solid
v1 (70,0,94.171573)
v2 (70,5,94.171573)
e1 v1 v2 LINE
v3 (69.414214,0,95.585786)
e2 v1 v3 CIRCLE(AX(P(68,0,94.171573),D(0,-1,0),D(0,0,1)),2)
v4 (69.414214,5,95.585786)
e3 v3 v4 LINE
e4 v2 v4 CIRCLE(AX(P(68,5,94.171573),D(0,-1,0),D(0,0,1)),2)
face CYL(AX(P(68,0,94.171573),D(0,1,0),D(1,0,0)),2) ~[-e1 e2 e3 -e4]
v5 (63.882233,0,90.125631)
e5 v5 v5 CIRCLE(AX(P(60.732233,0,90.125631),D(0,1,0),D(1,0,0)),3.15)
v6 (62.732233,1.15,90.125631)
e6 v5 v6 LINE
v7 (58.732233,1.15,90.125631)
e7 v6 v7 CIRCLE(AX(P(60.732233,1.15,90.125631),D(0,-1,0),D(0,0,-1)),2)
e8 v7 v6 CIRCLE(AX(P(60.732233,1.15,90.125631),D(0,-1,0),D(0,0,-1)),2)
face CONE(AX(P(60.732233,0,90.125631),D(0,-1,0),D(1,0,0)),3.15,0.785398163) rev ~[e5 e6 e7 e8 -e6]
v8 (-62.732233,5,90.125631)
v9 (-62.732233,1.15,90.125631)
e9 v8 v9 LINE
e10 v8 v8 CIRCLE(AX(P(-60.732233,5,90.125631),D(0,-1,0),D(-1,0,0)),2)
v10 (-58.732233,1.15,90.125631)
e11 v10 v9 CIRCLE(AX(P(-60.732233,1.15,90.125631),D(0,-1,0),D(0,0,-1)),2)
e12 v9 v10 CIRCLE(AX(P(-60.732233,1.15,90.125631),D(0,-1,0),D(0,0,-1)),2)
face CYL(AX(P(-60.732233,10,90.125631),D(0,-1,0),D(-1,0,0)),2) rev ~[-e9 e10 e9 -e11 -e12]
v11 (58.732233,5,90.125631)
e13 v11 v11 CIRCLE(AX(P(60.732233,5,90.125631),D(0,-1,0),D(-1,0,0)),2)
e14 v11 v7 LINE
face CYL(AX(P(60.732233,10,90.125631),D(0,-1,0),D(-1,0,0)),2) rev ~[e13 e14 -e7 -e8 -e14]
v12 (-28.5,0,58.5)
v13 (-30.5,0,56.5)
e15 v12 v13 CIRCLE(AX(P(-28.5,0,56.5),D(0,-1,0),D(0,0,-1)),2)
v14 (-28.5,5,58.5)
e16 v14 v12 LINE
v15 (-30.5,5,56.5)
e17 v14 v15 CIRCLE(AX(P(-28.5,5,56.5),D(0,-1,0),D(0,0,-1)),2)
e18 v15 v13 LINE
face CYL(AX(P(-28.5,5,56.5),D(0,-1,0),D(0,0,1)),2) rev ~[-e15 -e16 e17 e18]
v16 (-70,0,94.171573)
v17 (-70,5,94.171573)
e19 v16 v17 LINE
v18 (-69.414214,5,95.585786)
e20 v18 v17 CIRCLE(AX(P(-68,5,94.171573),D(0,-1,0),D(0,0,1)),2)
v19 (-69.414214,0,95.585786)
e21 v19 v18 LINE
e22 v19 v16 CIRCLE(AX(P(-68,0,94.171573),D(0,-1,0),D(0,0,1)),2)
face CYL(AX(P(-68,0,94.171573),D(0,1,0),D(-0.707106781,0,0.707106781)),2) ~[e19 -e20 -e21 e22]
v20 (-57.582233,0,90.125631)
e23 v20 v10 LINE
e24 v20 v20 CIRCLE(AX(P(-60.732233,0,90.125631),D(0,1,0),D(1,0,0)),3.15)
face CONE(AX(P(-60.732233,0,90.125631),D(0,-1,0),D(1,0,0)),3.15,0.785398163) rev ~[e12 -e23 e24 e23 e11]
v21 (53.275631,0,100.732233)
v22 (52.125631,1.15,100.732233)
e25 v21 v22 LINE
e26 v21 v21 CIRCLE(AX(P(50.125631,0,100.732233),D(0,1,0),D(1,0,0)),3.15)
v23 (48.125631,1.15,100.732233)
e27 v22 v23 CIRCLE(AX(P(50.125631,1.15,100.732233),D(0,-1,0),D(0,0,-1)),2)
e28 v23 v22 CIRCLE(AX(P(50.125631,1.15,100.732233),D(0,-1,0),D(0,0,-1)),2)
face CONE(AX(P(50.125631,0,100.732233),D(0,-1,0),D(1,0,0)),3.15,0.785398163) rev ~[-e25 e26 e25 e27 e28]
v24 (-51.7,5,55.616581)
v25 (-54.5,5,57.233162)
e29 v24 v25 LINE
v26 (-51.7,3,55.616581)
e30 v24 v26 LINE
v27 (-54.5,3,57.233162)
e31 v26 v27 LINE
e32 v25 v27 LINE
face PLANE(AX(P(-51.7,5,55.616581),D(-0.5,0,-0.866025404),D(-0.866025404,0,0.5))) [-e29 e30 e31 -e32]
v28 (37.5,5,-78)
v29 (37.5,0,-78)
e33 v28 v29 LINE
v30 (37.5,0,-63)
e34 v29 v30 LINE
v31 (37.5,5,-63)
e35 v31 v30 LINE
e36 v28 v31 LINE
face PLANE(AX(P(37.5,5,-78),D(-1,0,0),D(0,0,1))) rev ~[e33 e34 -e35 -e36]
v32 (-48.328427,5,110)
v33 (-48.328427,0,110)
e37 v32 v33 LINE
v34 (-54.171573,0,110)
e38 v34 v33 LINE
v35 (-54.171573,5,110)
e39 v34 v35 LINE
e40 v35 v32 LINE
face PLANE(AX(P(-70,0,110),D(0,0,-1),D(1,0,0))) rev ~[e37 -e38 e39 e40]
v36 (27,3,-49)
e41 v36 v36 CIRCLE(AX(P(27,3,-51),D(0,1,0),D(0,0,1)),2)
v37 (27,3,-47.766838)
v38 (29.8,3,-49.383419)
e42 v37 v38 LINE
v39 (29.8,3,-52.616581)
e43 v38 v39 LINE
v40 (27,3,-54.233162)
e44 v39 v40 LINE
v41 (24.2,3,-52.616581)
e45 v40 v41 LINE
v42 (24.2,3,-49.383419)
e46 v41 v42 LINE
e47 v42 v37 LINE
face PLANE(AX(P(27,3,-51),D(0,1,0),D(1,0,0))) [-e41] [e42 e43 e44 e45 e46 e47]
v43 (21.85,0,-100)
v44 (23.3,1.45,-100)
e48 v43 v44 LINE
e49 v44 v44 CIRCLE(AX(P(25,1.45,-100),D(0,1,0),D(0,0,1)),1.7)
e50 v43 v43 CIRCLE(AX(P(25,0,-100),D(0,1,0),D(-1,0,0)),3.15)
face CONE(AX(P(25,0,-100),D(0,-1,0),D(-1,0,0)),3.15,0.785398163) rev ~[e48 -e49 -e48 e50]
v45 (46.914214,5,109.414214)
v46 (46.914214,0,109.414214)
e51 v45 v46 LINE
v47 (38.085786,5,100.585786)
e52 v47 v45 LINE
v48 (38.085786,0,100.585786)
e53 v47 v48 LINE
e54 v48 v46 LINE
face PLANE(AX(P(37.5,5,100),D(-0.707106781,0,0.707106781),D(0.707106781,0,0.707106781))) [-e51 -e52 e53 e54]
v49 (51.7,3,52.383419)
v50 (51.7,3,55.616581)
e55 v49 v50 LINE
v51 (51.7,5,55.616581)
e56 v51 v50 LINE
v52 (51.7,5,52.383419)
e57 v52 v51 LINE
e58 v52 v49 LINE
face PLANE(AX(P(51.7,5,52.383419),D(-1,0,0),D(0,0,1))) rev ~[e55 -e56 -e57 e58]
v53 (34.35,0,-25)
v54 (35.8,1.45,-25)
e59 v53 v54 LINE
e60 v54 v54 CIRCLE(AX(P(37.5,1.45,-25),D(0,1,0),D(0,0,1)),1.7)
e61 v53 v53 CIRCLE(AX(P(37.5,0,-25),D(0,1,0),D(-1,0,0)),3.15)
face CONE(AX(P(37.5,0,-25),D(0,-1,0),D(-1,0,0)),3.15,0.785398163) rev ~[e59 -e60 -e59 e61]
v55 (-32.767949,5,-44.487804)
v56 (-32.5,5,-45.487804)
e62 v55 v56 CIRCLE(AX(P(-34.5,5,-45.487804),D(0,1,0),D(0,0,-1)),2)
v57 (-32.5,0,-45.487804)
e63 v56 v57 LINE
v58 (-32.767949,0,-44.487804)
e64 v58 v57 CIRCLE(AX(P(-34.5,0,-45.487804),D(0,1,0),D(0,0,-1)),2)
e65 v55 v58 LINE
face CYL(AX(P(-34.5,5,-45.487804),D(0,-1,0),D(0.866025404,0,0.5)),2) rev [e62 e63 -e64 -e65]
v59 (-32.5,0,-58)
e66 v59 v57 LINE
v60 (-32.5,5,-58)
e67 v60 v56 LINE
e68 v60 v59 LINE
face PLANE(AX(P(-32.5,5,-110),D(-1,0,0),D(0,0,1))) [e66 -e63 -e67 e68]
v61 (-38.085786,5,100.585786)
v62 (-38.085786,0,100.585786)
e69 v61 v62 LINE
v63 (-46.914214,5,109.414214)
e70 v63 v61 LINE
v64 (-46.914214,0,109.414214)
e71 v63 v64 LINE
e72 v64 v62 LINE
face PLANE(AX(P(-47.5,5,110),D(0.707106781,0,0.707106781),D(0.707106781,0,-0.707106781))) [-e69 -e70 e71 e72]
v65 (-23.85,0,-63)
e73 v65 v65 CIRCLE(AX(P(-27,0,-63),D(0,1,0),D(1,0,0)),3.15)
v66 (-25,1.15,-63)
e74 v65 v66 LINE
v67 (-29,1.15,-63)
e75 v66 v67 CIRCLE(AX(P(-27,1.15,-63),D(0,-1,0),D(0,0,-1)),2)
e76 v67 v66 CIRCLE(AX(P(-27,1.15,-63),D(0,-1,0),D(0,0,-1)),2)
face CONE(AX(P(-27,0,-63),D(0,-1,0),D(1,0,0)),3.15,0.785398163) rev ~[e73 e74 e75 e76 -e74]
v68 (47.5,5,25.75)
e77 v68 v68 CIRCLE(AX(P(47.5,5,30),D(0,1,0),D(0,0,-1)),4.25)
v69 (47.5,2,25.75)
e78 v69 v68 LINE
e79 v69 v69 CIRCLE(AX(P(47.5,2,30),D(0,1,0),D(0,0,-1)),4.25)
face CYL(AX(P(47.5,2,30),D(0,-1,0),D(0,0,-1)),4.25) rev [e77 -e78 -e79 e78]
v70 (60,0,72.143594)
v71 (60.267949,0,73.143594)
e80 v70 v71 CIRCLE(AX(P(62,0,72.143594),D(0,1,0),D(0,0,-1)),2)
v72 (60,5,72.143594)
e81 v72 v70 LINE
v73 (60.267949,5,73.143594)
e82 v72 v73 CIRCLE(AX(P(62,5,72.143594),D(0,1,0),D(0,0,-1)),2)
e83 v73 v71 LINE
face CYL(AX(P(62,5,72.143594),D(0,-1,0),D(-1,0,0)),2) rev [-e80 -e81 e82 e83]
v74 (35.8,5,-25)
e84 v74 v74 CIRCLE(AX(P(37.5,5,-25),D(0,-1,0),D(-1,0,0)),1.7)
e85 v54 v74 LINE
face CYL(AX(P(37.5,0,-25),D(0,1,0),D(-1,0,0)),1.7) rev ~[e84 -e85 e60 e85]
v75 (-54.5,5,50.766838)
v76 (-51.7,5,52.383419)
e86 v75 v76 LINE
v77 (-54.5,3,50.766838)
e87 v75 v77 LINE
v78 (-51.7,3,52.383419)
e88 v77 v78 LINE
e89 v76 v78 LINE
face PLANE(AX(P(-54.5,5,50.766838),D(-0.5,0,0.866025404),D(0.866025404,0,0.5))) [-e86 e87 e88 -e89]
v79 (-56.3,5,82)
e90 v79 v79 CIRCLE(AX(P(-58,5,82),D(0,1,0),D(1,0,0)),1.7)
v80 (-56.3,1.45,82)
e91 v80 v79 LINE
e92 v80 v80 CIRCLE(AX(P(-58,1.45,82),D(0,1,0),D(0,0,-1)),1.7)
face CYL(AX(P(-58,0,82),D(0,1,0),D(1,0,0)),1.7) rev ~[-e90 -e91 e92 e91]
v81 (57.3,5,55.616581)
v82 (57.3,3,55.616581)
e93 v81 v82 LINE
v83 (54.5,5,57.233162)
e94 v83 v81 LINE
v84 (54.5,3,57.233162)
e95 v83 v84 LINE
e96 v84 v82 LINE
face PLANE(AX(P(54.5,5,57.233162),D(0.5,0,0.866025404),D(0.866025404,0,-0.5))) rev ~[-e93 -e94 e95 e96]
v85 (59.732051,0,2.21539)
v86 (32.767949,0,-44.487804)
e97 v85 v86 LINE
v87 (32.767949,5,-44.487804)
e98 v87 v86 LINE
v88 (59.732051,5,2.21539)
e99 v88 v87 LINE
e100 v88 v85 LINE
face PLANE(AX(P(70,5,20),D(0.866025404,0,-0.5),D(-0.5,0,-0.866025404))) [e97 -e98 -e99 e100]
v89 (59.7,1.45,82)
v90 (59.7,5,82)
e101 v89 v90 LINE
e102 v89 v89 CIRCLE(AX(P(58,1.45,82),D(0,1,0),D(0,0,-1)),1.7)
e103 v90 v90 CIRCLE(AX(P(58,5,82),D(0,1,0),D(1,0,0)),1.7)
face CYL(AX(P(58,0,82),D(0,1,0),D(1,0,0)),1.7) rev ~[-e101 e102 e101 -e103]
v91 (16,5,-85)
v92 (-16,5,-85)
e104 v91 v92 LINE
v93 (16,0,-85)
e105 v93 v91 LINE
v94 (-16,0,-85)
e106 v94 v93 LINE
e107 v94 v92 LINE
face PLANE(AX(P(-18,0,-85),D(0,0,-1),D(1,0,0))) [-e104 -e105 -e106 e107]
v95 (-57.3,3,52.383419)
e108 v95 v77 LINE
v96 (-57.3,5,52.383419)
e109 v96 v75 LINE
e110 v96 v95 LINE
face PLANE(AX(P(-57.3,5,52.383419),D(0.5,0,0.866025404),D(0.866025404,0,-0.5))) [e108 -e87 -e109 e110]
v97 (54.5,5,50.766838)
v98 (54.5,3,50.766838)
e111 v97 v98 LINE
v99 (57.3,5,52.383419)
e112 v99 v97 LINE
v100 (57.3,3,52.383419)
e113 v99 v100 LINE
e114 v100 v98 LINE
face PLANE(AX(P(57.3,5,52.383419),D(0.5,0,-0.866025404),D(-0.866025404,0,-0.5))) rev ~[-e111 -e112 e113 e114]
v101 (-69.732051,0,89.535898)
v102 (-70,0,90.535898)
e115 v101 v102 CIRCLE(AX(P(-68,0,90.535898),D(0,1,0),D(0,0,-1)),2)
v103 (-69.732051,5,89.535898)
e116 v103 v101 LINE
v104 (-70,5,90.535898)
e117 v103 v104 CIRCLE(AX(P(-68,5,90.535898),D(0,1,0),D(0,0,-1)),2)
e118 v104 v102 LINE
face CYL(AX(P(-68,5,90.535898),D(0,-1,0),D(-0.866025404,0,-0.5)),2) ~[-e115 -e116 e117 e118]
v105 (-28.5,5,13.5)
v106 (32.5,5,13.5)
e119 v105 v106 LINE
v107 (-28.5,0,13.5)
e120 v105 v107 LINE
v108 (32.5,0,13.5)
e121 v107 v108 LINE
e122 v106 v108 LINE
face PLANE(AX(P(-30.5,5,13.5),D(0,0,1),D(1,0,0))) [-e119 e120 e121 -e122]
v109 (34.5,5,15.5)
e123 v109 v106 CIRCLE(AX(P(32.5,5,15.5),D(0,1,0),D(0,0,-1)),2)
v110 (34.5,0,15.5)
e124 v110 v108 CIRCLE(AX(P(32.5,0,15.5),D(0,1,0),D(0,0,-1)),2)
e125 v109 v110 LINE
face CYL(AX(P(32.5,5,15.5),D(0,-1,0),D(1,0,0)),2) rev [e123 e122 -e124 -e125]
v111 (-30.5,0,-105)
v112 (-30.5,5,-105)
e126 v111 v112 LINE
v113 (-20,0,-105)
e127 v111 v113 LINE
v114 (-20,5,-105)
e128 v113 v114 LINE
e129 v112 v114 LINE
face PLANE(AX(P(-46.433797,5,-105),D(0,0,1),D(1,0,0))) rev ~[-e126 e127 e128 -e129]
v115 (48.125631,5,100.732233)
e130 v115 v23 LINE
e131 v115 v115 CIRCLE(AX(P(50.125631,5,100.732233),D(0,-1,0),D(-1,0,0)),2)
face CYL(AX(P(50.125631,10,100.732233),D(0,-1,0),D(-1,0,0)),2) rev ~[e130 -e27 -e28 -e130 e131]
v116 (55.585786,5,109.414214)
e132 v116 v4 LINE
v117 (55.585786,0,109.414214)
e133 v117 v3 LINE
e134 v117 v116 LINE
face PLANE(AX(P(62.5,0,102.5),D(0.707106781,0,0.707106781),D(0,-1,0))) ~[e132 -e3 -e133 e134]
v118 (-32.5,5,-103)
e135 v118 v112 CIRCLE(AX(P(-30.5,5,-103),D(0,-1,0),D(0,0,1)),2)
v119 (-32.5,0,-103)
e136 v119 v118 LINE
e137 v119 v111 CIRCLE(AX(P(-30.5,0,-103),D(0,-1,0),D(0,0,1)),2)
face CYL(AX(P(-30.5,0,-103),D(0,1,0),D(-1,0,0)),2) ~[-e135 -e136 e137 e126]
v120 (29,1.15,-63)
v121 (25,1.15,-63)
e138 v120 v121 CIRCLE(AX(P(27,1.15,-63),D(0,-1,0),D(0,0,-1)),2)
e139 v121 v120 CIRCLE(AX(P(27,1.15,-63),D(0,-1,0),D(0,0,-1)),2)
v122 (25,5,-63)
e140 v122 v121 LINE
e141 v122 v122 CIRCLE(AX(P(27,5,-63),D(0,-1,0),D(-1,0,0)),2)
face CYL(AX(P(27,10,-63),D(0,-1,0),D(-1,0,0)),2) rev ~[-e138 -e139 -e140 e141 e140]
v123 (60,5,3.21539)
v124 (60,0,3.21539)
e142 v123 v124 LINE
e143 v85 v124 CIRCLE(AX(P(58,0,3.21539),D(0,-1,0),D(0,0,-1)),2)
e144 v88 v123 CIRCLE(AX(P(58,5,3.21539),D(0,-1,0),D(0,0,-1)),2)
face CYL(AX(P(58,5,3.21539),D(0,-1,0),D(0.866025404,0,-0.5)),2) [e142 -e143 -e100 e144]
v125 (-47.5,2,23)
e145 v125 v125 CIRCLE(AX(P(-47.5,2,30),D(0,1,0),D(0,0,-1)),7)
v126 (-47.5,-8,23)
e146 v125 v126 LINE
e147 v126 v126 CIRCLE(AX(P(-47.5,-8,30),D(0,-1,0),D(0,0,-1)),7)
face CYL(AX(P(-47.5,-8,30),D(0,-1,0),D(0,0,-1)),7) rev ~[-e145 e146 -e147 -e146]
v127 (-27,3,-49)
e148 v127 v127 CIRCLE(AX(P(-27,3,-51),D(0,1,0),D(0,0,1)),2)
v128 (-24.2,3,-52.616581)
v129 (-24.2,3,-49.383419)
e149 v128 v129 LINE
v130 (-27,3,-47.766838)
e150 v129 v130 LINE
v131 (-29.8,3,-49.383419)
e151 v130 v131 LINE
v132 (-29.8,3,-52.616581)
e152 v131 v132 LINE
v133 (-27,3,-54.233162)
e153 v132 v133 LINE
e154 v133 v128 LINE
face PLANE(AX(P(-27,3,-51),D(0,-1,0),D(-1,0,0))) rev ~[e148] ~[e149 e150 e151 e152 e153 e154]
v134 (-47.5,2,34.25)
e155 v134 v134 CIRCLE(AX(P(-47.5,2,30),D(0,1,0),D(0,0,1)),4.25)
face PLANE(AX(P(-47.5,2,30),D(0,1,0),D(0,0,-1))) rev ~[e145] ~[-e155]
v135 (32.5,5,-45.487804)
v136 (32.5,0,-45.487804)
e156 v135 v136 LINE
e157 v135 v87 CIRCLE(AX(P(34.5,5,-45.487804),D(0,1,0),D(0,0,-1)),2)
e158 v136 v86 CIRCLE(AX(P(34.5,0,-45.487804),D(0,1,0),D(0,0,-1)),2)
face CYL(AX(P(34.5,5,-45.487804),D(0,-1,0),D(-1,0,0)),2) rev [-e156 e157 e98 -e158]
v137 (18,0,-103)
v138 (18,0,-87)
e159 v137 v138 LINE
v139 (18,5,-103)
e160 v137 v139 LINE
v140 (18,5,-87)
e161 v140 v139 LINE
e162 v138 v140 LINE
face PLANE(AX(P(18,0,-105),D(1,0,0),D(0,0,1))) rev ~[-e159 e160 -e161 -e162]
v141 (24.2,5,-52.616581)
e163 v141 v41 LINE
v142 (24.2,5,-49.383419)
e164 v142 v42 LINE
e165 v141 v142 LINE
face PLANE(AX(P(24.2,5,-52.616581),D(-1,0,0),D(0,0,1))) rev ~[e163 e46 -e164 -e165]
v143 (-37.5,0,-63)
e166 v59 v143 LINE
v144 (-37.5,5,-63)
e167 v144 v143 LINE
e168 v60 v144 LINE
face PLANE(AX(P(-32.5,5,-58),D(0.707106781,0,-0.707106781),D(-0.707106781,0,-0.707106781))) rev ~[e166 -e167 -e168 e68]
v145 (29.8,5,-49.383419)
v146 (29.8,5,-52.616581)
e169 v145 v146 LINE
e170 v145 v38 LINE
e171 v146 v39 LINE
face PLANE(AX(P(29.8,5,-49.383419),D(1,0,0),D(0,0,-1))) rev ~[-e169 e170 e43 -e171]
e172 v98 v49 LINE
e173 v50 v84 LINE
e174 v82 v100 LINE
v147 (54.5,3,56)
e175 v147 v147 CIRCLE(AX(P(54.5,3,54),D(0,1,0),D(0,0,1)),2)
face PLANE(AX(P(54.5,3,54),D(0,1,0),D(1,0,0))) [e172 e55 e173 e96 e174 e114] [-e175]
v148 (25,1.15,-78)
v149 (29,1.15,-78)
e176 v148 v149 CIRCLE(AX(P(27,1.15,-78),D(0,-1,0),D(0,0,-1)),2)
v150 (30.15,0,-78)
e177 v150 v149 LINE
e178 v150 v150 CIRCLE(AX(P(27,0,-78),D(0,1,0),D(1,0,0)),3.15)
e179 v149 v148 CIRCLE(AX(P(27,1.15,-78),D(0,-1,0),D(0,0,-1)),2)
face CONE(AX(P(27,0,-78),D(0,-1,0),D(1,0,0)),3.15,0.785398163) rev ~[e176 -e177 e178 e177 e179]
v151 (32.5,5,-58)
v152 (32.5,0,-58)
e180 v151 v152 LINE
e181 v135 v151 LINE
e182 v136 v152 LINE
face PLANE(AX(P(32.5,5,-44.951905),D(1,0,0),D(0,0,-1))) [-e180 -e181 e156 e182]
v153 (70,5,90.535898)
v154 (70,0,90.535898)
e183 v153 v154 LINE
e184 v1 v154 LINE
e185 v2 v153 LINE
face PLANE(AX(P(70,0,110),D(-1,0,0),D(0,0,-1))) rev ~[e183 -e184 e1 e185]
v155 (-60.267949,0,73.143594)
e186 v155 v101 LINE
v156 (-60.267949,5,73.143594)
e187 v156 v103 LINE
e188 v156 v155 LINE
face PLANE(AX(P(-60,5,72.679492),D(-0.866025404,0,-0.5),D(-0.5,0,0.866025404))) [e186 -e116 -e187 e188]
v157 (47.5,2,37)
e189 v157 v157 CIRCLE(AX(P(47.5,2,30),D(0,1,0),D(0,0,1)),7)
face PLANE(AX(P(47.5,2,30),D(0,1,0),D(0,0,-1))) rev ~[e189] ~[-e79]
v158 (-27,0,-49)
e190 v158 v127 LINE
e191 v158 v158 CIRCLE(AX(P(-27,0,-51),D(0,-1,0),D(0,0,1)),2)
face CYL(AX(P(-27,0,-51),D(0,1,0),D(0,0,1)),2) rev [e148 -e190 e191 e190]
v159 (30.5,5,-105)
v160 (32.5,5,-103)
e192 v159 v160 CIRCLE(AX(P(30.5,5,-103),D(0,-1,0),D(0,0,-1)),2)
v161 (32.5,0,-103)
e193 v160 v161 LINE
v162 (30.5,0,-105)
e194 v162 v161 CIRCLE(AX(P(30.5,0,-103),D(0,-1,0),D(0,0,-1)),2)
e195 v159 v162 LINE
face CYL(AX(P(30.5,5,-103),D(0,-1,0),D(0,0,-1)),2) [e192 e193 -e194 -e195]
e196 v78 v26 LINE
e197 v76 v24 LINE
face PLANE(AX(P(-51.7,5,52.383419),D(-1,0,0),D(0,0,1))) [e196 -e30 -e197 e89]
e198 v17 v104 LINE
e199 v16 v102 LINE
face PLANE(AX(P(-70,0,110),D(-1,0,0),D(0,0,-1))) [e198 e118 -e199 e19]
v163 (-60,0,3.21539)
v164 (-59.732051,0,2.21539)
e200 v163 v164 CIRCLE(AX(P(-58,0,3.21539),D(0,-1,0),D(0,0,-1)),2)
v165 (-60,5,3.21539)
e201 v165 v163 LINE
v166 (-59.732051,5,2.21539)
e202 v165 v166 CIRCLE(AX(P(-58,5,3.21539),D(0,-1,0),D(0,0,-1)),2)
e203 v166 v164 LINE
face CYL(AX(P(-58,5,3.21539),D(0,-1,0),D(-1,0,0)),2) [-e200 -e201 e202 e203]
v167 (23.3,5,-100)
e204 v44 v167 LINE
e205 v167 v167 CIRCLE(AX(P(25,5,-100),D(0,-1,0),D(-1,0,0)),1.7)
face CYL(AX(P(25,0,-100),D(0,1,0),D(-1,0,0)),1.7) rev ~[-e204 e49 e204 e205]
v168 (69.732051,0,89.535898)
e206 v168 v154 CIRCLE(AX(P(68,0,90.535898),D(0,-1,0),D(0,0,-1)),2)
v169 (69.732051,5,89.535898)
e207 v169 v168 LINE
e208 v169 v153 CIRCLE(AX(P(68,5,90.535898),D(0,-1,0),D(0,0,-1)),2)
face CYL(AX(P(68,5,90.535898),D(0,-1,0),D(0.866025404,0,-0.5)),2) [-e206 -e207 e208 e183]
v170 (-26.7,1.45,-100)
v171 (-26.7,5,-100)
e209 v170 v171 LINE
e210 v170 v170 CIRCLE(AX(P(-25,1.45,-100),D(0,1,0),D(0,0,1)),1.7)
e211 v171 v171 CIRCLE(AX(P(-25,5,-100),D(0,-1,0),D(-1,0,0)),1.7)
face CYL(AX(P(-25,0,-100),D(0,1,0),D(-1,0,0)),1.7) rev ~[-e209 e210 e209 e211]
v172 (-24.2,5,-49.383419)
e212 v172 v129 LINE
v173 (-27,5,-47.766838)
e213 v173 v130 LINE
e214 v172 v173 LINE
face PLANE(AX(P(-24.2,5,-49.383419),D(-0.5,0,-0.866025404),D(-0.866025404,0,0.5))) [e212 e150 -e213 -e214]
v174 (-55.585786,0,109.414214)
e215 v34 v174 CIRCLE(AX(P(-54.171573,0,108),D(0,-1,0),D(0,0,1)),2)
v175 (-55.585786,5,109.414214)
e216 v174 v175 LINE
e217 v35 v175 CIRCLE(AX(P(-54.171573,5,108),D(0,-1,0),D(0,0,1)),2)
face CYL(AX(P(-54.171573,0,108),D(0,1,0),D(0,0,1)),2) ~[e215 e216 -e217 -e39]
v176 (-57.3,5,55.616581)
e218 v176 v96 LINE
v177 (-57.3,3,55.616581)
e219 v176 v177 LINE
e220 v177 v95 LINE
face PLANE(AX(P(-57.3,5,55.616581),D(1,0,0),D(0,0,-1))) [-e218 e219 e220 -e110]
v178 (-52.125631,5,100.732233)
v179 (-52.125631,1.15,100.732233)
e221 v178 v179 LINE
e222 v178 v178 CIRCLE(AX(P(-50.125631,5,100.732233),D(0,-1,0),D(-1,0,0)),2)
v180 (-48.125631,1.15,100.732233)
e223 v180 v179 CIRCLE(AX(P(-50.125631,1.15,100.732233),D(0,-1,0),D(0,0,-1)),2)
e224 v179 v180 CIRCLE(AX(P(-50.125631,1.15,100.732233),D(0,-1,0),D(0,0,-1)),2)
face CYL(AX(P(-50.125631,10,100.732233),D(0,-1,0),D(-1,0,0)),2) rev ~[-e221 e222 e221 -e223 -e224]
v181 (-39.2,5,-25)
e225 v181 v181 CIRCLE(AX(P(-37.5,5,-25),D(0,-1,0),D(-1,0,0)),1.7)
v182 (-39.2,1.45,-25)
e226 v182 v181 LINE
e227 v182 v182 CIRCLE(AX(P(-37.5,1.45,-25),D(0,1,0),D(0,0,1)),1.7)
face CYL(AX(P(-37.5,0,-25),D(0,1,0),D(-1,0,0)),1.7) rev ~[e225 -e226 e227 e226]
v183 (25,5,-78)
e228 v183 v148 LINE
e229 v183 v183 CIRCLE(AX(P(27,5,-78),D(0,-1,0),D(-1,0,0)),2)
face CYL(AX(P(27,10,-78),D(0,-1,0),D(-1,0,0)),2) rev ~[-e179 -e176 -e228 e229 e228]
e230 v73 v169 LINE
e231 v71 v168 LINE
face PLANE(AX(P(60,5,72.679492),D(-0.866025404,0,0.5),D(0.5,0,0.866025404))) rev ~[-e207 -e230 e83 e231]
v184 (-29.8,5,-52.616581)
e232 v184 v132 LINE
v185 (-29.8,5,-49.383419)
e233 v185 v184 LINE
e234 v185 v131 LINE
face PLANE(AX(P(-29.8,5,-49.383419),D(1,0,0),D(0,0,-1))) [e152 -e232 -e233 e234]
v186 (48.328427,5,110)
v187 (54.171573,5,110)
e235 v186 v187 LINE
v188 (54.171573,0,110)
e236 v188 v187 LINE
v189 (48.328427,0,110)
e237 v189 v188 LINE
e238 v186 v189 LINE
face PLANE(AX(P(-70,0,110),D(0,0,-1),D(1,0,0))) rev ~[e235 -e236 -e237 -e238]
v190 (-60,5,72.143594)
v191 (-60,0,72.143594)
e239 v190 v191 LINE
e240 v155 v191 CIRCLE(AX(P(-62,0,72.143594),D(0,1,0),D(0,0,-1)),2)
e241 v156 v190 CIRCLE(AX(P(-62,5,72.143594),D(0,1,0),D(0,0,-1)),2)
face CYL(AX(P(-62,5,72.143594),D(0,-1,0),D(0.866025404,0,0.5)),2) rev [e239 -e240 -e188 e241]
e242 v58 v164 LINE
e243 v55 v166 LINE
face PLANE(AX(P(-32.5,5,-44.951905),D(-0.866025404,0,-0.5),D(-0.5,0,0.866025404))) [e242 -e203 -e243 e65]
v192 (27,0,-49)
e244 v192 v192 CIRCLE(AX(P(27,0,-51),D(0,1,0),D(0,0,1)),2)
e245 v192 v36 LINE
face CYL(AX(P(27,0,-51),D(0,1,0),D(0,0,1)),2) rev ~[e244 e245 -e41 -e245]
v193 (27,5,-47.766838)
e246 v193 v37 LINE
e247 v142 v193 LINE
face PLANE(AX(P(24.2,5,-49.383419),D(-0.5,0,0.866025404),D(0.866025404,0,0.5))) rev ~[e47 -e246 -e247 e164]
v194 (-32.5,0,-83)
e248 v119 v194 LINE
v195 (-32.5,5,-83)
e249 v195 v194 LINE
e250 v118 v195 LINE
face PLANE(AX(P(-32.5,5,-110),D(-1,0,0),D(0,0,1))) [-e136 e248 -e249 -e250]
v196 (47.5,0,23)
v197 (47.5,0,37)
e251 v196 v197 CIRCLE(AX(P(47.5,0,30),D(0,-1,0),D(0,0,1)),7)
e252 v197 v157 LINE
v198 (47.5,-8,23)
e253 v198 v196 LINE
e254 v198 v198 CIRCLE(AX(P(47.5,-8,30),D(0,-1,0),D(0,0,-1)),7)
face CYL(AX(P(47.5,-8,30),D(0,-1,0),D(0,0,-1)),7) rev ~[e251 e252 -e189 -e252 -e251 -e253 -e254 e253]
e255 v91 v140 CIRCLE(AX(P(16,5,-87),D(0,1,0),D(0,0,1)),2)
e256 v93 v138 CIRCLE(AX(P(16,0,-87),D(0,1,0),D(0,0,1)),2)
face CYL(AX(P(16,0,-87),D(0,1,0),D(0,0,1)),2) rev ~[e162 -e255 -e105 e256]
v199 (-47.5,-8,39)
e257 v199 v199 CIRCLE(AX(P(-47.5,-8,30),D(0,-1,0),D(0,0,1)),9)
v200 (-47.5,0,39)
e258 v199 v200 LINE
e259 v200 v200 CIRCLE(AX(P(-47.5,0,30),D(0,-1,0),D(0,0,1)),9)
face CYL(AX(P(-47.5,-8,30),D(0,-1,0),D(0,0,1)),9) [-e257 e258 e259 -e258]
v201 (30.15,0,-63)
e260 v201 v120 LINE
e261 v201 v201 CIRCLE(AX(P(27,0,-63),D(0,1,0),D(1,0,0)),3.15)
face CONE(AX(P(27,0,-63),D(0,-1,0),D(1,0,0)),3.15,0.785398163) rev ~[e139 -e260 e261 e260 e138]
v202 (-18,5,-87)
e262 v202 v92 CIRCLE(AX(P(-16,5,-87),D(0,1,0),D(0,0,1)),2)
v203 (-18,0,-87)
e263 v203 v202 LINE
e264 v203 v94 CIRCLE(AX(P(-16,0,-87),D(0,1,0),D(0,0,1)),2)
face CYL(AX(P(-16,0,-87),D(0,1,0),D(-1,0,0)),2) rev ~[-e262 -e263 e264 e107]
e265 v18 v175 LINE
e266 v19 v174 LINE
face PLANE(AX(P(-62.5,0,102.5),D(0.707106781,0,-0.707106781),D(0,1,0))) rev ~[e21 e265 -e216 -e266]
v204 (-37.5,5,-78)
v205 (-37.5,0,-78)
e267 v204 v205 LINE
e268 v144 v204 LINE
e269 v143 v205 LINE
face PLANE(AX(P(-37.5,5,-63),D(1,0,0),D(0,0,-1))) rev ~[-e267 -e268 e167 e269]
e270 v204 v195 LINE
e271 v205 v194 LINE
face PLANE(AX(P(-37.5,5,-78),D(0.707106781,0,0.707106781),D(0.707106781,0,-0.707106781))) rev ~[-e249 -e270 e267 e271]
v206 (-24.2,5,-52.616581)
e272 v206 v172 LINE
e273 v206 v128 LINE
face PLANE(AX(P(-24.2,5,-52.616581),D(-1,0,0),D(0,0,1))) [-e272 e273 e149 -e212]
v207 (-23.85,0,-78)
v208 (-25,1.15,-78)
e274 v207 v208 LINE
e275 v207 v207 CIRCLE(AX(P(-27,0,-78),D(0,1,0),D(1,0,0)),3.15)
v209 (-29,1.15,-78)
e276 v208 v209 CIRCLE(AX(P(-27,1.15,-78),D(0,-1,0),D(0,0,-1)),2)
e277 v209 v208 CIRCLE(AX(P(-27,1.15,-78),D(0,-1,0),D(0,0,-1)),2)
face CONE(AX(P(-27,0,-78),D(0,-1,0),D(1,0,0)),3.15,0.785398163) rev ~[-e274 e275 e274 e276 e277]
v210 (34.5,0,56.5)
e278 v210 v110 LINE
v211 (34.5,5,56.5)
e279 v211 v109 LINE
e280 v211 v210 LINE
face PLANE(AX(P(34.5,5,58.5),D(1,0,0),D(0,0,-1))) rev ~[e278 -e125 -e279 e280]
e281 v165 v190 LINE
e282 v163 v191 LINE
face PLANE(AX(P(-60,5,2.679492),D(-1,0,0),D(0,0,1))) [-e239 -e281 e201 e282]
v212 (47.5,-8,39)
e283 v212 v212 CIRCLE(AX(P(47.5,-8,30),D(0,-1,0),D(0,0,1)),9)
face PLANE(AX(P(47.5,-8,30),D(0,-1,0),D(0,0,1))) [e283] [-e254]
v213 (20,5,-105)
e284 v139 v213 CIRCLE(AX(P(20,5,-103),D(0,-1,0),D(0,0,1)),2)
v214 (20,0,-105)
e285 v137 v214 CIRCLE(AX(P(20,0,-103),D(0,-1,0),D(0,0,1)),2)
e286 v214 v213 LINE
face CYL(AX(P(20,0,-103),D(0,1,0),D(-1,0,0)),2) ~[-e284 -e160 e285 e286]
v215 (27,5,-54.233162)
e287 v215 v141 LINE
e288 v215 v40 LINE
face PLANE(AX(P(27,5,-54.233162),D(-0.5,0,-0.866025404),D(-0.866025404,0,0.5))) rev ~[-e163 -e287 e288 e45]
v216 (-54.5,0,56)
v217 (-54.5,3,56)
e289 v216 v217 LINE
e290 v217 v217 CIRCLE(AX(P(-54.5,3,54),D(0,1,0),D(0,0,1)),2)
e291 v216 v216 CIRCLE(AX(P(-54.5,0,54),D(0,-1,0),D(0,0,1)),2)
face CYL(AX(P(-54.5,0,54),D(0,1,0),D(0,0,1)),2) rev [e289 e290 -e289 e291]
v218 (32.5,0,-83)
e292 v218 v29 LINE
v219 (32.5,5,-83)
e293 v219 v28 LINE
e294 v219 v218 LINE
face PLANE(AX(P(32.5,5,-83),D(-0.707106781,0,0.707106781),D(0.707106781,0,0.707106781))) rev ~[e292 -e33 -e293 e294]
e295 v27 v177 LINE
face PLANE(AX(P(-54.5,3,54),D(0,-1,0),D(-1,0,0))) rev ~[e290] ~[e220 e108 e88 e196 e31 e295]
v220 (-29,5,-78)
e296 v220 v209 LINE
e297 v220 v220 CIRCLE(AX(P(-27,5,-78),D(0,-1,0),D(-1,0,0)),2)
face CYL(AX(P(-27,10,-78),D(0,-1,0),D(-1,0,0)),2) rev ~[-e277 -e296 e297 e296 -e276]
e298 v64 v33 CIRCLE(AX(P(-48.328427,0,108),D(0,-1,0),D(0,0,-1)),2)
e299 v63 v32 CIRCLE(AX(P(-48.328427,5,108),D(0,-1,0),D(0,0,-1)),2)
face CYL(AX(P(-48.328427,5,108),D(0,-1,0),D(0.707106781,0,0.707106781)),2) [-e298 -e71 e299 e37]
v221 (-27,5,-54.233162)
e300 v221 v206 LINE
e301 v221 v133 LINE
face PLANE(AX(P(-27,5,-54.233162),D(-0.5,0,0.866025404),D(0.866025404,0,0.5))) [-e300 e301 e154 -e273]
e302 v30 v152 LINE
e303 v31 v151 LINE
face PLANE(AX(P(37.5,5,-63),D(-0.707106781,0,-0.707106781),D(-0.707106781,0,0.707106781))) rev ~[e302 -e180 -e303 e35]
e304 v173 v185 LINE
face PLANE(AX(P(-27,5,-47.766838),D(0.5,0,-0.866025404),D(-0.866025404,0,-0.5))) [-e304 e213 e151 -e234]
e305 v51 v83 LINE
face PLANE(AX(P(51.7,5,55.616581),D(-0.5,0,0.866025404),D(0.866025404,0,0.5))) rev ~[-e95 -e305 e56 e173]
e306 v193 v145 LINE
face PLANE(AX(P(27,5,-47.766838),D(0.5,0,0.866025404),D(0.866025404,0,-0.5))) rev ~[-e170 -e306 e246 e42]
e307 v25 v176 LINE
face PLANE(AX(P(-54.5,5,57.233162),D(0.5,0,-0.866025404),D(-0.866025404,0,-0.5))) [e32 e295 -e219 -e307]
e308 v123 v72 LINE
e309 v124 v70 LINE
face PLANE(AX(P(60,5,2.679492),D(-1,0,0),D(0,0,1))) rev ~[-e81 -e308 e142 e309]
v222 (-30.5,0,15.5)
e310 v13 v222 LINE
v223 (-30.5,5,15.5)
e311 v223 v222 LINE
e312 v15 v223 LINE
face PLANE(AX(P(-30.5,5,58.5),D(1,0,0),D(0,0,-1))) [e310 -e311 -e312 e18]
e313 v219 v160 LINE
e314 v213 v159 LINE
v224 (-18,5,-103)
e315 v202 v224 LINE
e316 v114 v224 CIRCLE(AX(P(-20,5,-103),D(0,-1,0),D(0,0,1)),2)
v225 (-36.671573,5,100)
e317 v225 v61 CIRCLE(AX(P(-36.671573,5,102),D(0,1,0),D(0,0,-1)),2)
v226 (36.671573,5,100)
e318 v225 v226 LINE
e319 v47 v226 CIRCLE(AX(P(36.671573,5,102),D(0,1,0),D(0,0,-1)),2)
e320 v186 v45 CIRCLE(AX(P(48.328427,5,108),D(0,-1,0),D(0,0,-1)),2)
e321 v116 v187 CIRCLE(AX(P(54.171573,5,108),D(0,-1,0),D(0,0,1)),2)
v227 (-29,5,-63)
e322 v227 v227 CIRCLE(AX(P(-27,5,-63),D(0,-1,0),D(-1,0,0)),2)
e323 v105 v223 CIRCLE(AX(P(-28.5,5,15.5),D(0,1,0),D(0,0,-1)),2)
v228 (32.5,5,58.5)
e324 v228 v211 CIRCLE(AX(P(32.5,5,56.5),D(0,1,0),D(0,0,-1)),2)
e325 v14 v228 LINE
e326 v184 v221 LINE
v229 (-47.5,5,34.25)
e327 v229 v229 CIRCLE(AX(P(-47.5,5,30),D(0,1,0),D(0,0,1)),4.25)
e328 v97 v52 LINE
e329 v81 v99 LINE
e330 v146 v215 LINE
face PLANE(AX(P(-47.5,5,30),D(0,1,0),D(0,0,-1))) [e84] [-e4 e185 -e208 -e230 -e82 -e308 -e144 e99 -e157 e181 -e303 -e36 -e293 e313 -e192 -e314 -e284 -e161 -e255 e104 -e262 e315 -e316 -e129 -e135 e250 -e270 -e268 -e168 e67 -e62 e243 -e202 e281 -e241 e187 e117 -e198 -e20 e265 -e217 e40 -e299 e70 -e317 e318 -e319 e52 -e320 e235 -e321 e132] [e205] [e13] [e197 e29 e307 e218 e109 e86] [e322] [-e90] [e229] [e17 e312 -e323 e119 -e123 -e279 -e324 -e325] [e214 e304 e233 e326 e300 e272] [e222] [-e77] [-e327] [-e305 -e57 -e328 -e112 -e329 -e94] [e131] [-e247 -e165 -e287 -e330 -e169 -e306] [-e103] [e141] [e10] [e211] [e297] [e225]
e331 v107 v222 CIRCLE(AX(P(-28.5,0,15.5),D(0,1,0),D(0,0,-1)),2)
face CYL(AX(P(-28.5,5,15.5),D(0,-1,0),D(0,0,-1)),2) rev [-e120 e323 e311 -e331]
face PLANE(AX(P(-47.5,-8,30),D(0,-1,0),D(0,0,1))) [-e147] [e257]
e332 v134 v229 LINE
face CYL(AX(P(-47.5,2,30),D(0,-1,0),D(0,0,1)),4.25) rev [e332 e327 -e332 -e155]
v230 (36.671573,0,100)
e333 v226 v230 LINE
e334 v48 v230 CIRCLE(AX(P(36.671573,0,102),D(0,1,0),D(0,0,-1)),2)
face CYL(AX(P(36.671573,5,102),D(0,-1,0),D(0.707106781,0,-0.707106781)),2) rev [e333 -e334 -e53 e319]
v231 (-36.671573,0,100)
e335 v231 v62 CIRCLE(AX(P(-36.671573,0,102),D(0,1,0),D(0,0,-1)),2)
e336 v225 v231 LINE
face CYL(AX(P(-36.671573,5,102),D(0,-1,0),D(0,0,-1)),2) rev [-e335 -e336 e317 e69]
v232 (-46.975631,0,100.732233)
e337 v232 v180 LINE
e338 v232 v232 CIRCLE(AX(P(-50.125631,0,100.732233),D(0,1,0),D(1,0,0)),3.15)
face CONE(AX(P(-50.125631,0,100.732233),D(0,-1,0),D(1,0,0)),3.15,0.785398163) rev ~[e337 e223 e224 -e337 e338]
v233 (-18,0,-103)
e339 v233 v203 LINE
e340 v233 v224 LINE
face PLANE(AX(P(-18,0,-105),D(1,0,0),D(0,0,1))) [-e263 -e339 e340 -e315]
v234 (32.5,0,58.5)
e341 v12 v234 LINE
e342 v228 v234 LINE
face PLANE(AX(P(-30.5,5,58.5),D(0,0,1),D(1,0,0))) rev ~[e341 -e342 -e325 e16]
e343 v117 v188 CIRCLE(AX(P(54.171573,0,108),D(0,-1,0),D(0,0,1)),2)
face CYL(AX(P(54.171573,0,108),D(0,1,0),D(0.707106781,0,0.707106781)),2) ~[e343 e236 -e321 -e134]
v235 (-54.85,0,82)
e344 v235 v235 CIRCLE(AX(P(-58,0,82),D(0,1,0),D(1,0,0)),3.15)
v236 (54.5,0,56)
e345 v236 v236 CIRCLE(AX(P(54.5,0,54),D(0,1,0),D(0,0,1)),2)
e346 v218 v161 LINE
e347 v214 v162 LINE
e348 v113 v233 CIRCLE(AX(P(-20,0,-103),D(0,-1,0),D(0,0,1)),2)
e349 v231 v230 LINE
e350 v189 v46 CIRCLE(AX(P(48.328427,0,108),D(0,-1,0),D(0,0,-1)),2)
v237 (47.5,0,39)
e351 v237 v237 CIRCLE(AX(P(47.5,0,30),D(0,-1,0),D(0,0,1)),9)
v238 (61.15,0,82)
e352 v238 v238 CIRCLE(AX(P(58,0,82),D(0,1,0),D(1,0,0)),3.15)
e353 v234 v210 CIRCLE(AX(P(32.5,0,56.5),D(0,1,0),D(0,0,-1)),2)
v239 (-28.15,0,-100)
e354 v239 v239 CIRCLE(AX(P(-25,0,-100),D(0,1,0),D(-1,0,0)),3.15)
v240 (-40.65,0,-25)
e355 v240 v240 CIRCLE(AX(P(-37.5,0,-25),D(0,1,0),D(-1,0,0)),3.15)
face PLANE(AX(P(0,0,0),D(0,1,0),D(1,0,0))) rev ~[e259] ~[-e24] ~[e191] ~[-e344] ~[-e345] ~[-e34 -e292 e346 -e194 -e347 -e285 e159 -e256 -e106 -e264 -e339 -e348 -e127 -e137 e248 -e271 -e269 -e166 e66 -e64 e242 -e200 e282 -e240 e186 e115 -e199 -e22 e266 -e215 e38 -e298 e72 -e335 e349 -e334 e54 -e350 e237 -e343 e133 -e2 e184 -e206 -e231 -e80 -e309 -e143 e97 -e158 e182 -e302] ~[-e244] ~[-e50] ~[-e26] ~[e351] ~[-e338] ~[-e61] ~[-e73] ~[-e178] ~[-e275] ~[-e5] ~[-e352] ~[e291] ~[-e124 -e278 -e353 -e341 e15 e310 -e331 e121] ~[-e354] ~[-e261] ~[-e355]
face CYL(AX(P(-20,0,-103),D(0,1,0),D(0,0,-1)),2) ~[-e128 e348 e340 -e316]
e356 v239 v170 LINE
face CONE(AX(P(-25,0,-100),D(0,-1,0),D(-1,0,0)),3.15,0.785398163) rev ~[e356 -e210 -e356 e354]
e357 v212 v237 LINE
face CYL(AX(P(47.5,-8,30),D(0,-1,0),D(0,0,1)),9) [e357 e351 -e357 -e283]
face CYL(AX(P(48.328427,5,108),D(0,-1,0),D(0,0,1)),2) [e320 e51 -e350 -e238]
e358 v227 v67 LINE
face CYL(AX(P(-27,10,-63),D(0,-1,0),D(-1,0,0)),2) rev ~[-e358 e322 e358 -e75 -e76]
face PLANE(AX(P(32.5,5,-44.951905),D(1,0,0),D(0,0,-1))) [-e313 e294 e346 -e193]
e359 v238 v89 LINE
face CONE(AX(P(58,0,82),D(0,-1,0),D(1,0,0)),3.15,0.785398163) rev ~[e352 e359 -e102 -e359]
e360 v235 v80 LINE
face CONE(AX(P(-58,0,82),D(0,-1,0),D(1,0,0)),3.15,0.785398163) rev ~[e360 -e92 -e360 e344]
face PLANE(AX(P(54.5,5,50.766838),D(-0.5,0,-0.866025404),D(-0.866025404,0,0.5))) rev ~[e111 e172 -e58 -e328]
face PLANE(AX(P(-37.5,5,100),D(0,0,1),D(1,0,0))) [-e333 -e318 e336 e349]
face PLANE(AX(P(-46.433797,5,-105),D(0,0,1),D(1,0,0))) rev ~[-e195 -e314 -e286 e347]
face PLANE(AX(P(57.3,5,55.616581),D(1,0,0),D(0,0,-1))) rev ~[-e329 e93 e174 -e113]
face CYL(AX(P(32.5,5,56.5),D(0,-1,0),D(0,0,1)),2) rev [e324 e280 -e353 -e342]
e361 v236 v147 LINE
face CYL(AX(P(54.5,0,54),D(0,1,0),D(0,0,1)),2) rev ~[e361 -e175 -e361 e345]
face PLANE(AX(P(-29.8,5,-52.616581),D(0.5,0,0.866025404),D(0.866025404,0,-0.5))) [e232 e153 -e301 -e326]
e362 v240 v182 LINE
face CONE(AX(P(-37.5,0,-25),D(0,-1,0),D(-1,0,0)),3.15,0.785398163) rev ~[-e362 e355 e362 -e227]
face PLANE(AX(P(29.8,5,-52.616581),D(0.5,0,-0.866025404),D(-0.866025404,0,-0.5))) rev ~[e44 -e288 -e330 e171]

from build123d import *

# Parameters (mm, degrees)
SKETCH1_W                                       = 140
SKETCH1_H                                       = 220
BOSS_EXTRUDE1_DEPTH                             = 5
CUT_EXTRUDE1_DEPTH                              = 5
CHAMFER3_SIZE                                   = 15
F_4_0_4_DIAMETER_HOLE3_D                        = 4
F_4_0_4_DIAMETER_HOLE3_DEPTH                    = 5
F_4_0_4_DIAMETER_HOLE3_TIP                      = 1.201721238
CSK_FOR_M3_FLAT_HEAD_MACHINE_SCREW4_D           = 3.4
CSK_FOR_M3_FLAT_HEAD_MACHINE_SCREW4_DEPTH       = 5
CSK_FOR_M3_FLAT_HEAD_MACHINE_SCREW4_CSINK_D     = 6.3
CSK_FOR_M3_FLAT_HEAD_MACHINE_SCREW4_CSINK_ANGLE = 90
CSK_FOR_M3_FLAT_HEAD_MACHINE_SCREW4_TIP         = 1.021463052
SKETCH18_W                                      = 81.237331022
SKETCH18_H                                      = 9.628563132
CUT_EXTRUDE2_DEPTH                              = 5
CUT_EXTRUDE8_DEPTH                              = 10
SKETCH35_W                                      = 65
SKETCH35_H                                      = 45
CUT_EXTRUDE9_DEPTH                              = 131.479883507
FILLET1_R                                       = 2
CUT_EXTRUDE10_DEPTH                             = 131.479883507
SKETCH38_W                                      = 36
SKETCH38_H                                      = 20
CUT_EXTRUDE14_DEPTH                             = 131.479883507
SKETCH39_R                                      = 7
CUT_EXTRUDE15_DEPTH                             = 131.479883507
CSK_FOR_M3_FLAT_HEAD_MACHINE_SCREW3_D           = 3.4
CSK_FOR_M3_FLAT_HEAD_MACHINE_SCREW3_DEPTH       = 10
CSK_FOR_M3_FLAT_HEAD_MACHINE_SCREW3_CSINK_D     = 6.3
CSK_FOR_M3_FLAT_HEAD_MACHINE_SCREW3_CSINK_ANGLE = 90
CSK_FOR_M3_FLAT_HEAD_MACHINE_SCREW3_TIP         = 1.021463052
BOSS_EXTRUDE2_START                             = -3
SKETCH42_R                                      = 7
SKETCH42_R_2                                    = 4.25
BOSS_EXTRUDE2_DEPTH                             = 3
BOSS_EXTRUDE3_START                             = 8
SKETCH43_R                                      = 9
SKETCH43_R_2                                    = 7
BOSS_EXTRUDE3_DEPTH                             = 8
F_4_0MM_DOWEL_HOLE1_AT_2_COUNT                  = 2
F_4_0MM_DOWEL_HOLE1_AT_2_PITCH                  = 108.54146673
CUT_EXTRUDE16_DEPTH                             = 2
BOSS_EXTRUDE4_DEPTH                             = 5
CSK_FOR_M3_FLAT_HEAD_MACHINE_SCREW2_D           = 3.4
CSK_FOR_M3_FLAT_HEAD_MACHINE_SCREW2_DEPTH       = 5
CSK_FOR_M3_FLAT_HEAD_MACHINE_SCREW2_CSINK_D     = 6.3
CSK_FOR_M3_FLAT_HEAD_MACHINE_SCREW2_CSINK_ANGLE = 90
CSK_FOR_M3_FLAT_HEAD_MACHINE_SCREW2_TIP         = 1.021463052
FILLET3_R                                       = 2


with BuildPart() as part:
    # Sketch1 → Boss-Extrude1 (new body)
    with BuildSketch(Plane(origin=(0, 0, 0), x_dir=(1, 0, 0), z_dir=(0, 1, 0))):
        Rectangle(SKETCH1_W, SKETCH1_H)
    extrude(amount=BOSS_EXTRUDE1_DEPTH)

    # Sketch8 → Cut-Extrude1 (cut)
    with BuildSketch(Plane(origin=(0, 5, 0), x_dir=(1, 0, 0), z_dir=(0, 1, 0))):
        Polygon((-70, 110), (-32.5, 110), (-32.5, 44.951905284), (-70, -20), align=None)
        Polygon((70, 110), (70, -20), (32.5, 44.951905284), (32.5, 110), align=None)
    extrude(amount=-CUT_EXTRUDE1_DEPTH, mode=Mode.SUBTRACT)

    # Chamfer3
    chamfer3_edges = [part.edges().sort_by_distance(p)[0] for p in [
        (70, 2.5, 110),
        (-70, 2.5, 110),
    ]]
    chamfer(chamfer3_edges, length=CHAMFER3_SIZE)

    # Ø4.0 (4) Diameter Hole3
    with Locations(Plane(origin=(0, 5, 0), x_dir=(1, 0, 0), z_dir=(0, 1, 0))):
        with Locations((-27, 78), (-27, 63), (-60.732233047, -90.125631329), (-50.125631329, -100.732233047), (50.125631329, -100.732233047), (60.732233047, -90.125631329), (27, 63), (27, 78)):
            Hole(F_4_0_4_DIAMETER_HOLE3_D / 2, depth=F_4_0_4_DIAMETER_HOLE3_DEPTH)
            with Locations((0, 0, -(F_4_0_4_DIAMETER_HOLE3_DEPTH + F_4_0_4_DIAMETER_HOLE3_TIP / 2))):  # 118° drill point
                Cone(0, F_4_0_4_DIAMETER_HOLE3_D / 2, F_4_0_4_DIAMETER_HOLE3_TIP, mode=Mode.SUBTRACT)

    # CSK for M3 Flat Head Machine Screw4
    with Locations(Plane.XZ):
        with Locations((37.5, -25), (-37.5, -25), (-25, -100), (25, -100)):
            CounterSinkHole(CSK_FOR_M3_FLAT_HEAD_MACHINE_SCREW4_D / 2, CSK_FOR_M3_FLAT_HEAD_MACHINE_SCREW4_CSINK_D / 2, depth=CSK_FOR_M3_FLAT_HEAD_MACHINE_SCREW4_DEPTH, counter_sink_angle=CSK_FOR_M3_FLAT_HEAD_MACHINE_SCREW4_CSINK_ANGLE)
            with Locations((0, 0, -(CSK_FOR_M3_FLAT_HEAD_MACHINE_SCREW4_DEPTH + CSK_FOR_M3_FLAT_HEAD_MACHINE_SCREW4_TIP / 2))):  # 118° drill point
                Cone(0, CSK_FOR_M3_FLAT_HEAD_MACHINE_SCREW4_D / 2, CSK_FOR_M3_FLAT_HEAD_MACHINE_SCREW4_TIP, mode=Mode.SUBTRACT)

    # Sketch18 → Cut-Extrude2 (cut)
    with BuildSketch(Plane(origin=(0, 5, 0), x_dir=(1, 0, 0), z_dir=(0, 1, 0))):
        with Locations((-5.815131093, 109.814281566)):
            Rectangle(SKETCH18_W, SKETCH18_H)
    extrude(amount=-CUT_EXTRUDE2_DEPTH, mode=Mode.SUBTRACT)

    # Sketch34 → Cut-Extrude8 (cut)
    with BuildSketch(Plane(origin=(0, 5, 0), x_dir=(1, 0, 0), z_dir=(0, 1, 0))):
        Polygon((-70, -20), (-60, -2.679491924), (-60, -72.679491924), (-70, -90), align=None)
        Polygon((70, -90), (70, -20), (60, -2.679491924), (60, -72.679491924), align=None)
    extrude(amount=-CUT_EXTRUDE8_DEPTH, mode=Mode.SUBTRACT)

    # Sketch35 → Cut-Extrude9 (cut, through all)
    with BuildSketch(Plane(origin=(0, 5, 0), x_dir=(1, 0, 0), z_dir=(0, 1, 0))):
        with Locations((2, -36)):
            Rectangle(SKETCH35_W, SKETCH35_H)
    extrude(amount=-CUT_EXTRUDE9_DEPTH, mode=Mode.SUBTRACT)

    # Fillet1
    fillet1_edges = [part.edges().sort_by_distance(p)[0] for p in [
        (34.5, 2.5, 13.5),
        (34.5, 2.5, 58.5),
        (-30.5, 2.5, 58.5),
        (-30.5, 2.5, 13.5),
    ]]
    fillet(fillet1_edges, radius=FILLET1_R)

    # Sketch36 → Cut-Extrude10 (cut, through all)
    with BuildSketch(Plane(origin=(0, 5, 0), x_dir=(1, 0, 0), z_dir=(0, 1, 0))):
        Polygon((-47.5, -110), (-37.5, -100), (37.5, -100), (47.5, -110), align=None)
    extrude(amount=-CUT_EXTRUDE10_DEPTH, mode=Mode.SUBTRACT)

    # Sketch38 → Cut-Extrude14 (cut, through all)
    with BuildSketch(Plane.XZ):
        with Locations((0, -95)):
            Rectangle(SKETCH38_W, SKETCH38_H)
    extrude(amount=-CUT_EXTRUDE14_DEPTH, mode=Mode.SUBTRACT)

    # Sketch39 → Cut-Extrude15 (cut, through all)
    with BuildSketch(Plane.XZ):
        with Locations(Location((-47.5, 30, 0), (0, 0, 270))):
            Circle(SKETCH39_R)
        with Locations(Location((47.5, 30, 0), (0, 0, 90))):
            Circle(SKETCH39_R)
    extrude(amount=-CUT_EXTRUDE15_DEPTH, mode=Mode.SUBTRACT)

    # CSK for M3 Flat Head Machine Screw3
    with Locations(Plane(origin=(0, 0, 0), x_dir=(-1, 0, 0), z_dir=(0, -1, 0))):
        with Locations((-58, -82), (58, -82)):
            CounterSinkHole(CSK_FOR_M3_FLAT_HEAD_MACHINE_SCREW3_D / 2, CSK_FOR_M3_FLAT_HEAD_MACHINE_SCREW3_CSINK_D / 2, depth=CSK_FOR_M3_FLAT_HEAD_MACHINE_SCREW3_DEPTH, counter_sink_angle=CSK_FOR_M3_FLAT_HEAD_MACHINE_SCREW3_CSINK_ANGLE)
            with Locations((0, 0, -(CSK_FOR_M3_FLAT_HEAD_MACHINE_SCREW3_DEPTH + CSK_FOR_M3_FLAT_HEAD_MACHINE_SCREW3_TIP / 2))):  # 118° drill point
                Cone(0, CSK_FOR_M3_FLAT_HEAD_MACHINE_SCREW3_D / 2, CSK_FOR_M3_FLAT_HEAD_MACHINE_SCREW3_TIP, mode=Mode.SUBTRACT)

    # Sketch42 → Boss-Extrude2 (add)
    # profile 1 of 2: a face of its own
    with BuildSketch(Plane(origin=(0, 5, 0), x_dir=(1, 0, 0), z_dir=(0, 1, 0)).offset(BOSS_EXTRUDE2_START)):
        with Locations(Location((-47.5, -30, 0), (0, 0, 90))):
            Circle(SKETCH42_R)
        with Locations(Location((-47.5, -30, 0), (0, 0, 270))):
            Circle(SKETCH42_R_2, mode=Mode.SUBTRACT)
    # profile 2 of 2: a face of its own
    with BuildSketch(Plane(origin=(0, 5, 0), x_dir=(1, 0, 0), z_dir=(0, 1, 0)).offset(BOSS_EXTRUDE2_START)):
        with Locations(Location((47.5, -30, 0), (0, 0, 90))):
            Circle(SKETCH42_R)
        with Locations(Location((47.5, -30, 0), (0, 0, 90))):
            Circle(SKETCH42_R_2, mode=Mode.SUBTRACT)
    extrude(amount=BOSS_EXTRUDE2_DEPTH)

    # Sketch43 → Boss-Extrude3 (add)
    # profile 1 of 2: a face of its own
    with BuildSketch(Plane.XZ.offset(BOSS_EXTRUDE3_START)):
        with Locations(Location((-47.5, 30, 0), (0, 0, 90))):
            Circle(SKETCH43_R)
        with Locations(Location((-47.5, 30, 0), (0, 0, 270))):
            Circle(SKETCH43_R_2, mode=Mode.SUBTRACT)
    # profile 2 of 2: a face of its own
    with BuildSketch(Plane.XZ.offset(BOSS_EXTRUDE3_START)):
        with Locations(Location((47.5, 30, 0), (0, 0, 90))):
            Circle(SKETCH43_R)
        with Locations(Location((47.5, 30, 0), (0, 0, 270))):
            Circle(SKETCH43_R_2, mode=Mode.SUBTRACT)
    extrude(amount=-BOSS_EXTRUDE3_DEPTH)

    # Sketch46 → Ø4.0mm Dowel Hole1 (revolve, cut)
    with BuildSketch(Plane(origin=(-54.5, 5, 54), x_dir=(0, 0, 1), z_dir=(1, 0, 0))):
        Polygon((0, 0), (0, 6.201721238), (2, 5), (2, 0), align=None)
    f_4_0mm_dowel_hole1 = revolve(axis=Axis((-54.5, 11.35, 54), (0, -1, 0)), mode=Mode.SUBTRACT)

    # Ø4.0mm Dowel Hole1 at 2: Ø4.0mm Dowel Hole1 ×2
    with Locations(*[Vector(0.2533593918376833, 0, -0.9673722233802454) * (i * F_4_0MM_DOWEL_HOLE1_AT_2_PITCH) for i in range(1, F_4_0MM_DOWEL_HOLE1_AT_2_COUNT)]):
        add(f_4_0mm_dowel_hole1, mode=Mode.SUBTRACT)

    # Mirror1: Ø4.0mm Dowel Hole1 across plane
    add(f_4_0mm_dowel_hole1.mirror(Plane(origin=(0, 0, 0), x_dir=(0, 0, 1), z_dir=(1, 0, 0))), mode=Mode.SUBTRACT)

    # Mirror1 copy 1 sketch → Mirror1 copy 1 (revolve, cut)
    with BuildSketch(Plane(origin=(27, 5, -51), x_dir=(0, 0, 1), z_dir=(-1, 0, 0))):
        Polygon((0, 0), (0, -6.201721238), (2, -5), (2, 0), align=None)
    revolve(axis=Axis((27, 11.35, -51), (0, 1, 0)), mode=Mode.SUBTRACT)

    # Sketch47 → Cut-Extrude16 (cut)
    with BuildSketch(Plane(origin=(0, 5, 0), x_dir=(1, 0, 0), z_dir=(0, 1, 0))):
        Polygon((29.8, 49.383419246), (29.8, 52.616580754), (27, 54.233161507), (24.2, 52.616580754), (24.2, 49.383419246), (27, 47.766838493), align=None)
        Polygon((57.3, -55.616580754), (57.3, -52.383419246), (54.5, -50.766838493), (51.7, -52.383419246), (51.7, -55.616580754), (54.5, -57.233161507), align=None)
        Polygon((-54.5, -57.233161507), (-57.3, -55.616580754), (-57.3, -52.383419246), (-54.5, -50.766838493), (-51.7, -52.383419246), (-51.7, -55.616580754), align=None)
        Polygon((-27, 47.766838493), (-29.8, 49.383419246), (-29.8, 52.616580754), (-27, 54.233161507), (-24.2, 52.616580754), (-24.2, 49.383419246), align=None)
    extrude(amount=-CUT_EXTRUDE16_DEPTH, mode=Mode.SUBTRACT)

    # Sketch48 → Boss-Extrude4 (add)
    with BuildSketch(Plane(origin=(0, 5, 0), x_dir=(1, 0, 0), z_dir=(0, 1, 0))):
        Polygon((32.5, 58), (32.5, 83), (37.5, 78), (37.5, 63), align=None)
        Polygon((-32.5, 58), (-37.5, 63), (-37.5, 78), (-32.5, 83), align=None)
    extrude(amount=-BOSS_EXTRUDE4_DEPTH)

    # CSK for M3 Flat Head Machine Screw2
    with Locations(Plane(origin=(0, 0, 0), x_dir=(-1, 0, 0), z_dir=(0, -1, 0))):
        with Locations((27, 63), (27, 78), (-27, 78), (-27, 63), (60.732233047, -90.125631329), (50.125631329, -100.732233047), (-50.125631329, -100.732233047), (-60.732233047, -90.125631329)):
            CounterSinkHole(CSK_FOR_M3_FLAT_HEAD_MACHINE_SCREW2_D / 2, CSK_FOR_M3_FLAT_HEAD_MACHINE_SCREW2_CSINK_D / 2, depth=CSK_FOR_M3_FLAT_HEAD_MACHINE_SCREW2_DEPTH, counter_sink_angle=CSK_FOR_M3_FLAT_HEAD_MACHINE_SCREW2_CSINK_ANGLE)
            with Locations((0, 0, -(CSK_FOR_M3_FLAT_HEAD_MACHINE_SCREW2_DEPTH + CSK_FOR_M3_FLAT_HEAD_MACHINE_SCREW2_TIP / 2))):  # 118° drill point
                Cone(0, CSK_FOR_M3_FLAT_HEAD_MACHINE_SCREW2_D / 2, CSK_FOR_M3_FLAT_HEAD_MACHINE_SCREW2_TIP, mode=Mode.SUBTRACT)

    # Fillet3
    fillet3_edges = [part.edges().sort_by_distance(p)[0] for p in [
        (-32.5, 2.5, -105),
        (32.5, 2.5, -105),
        (-60, 2.5, 2.679491924),
        (60, 2.5, 2.679491924),
        (-60, 2.5, 72.679491924),
        (-70, 2.5, 90),
        (70, 2.5, 90),
        (60, 2.5, 72.679491924),
        (-32.5, 2.5, -44.951905284),
        (47.5, 2.5, 110),
        (-47.5, 2.5, 110),
        (-37.5, 2.5, 100),
        (37.5, 2.5, 100),
        (18, 2.5, -105),
        (-18, 2.5, -105),
        (-18, 2.5, -85),
        (18, 2.5, -85),
        (32.5, 2.5, -44.951905284),
        (70, 2.5, 95),
        (-55, 2.5, 110),
        (55, 2.5, 110),
        (-70, 2.5, 95),
    ]]
    fillet(fillet3_edges, radius=FILLET3_R)


solid = part.part
